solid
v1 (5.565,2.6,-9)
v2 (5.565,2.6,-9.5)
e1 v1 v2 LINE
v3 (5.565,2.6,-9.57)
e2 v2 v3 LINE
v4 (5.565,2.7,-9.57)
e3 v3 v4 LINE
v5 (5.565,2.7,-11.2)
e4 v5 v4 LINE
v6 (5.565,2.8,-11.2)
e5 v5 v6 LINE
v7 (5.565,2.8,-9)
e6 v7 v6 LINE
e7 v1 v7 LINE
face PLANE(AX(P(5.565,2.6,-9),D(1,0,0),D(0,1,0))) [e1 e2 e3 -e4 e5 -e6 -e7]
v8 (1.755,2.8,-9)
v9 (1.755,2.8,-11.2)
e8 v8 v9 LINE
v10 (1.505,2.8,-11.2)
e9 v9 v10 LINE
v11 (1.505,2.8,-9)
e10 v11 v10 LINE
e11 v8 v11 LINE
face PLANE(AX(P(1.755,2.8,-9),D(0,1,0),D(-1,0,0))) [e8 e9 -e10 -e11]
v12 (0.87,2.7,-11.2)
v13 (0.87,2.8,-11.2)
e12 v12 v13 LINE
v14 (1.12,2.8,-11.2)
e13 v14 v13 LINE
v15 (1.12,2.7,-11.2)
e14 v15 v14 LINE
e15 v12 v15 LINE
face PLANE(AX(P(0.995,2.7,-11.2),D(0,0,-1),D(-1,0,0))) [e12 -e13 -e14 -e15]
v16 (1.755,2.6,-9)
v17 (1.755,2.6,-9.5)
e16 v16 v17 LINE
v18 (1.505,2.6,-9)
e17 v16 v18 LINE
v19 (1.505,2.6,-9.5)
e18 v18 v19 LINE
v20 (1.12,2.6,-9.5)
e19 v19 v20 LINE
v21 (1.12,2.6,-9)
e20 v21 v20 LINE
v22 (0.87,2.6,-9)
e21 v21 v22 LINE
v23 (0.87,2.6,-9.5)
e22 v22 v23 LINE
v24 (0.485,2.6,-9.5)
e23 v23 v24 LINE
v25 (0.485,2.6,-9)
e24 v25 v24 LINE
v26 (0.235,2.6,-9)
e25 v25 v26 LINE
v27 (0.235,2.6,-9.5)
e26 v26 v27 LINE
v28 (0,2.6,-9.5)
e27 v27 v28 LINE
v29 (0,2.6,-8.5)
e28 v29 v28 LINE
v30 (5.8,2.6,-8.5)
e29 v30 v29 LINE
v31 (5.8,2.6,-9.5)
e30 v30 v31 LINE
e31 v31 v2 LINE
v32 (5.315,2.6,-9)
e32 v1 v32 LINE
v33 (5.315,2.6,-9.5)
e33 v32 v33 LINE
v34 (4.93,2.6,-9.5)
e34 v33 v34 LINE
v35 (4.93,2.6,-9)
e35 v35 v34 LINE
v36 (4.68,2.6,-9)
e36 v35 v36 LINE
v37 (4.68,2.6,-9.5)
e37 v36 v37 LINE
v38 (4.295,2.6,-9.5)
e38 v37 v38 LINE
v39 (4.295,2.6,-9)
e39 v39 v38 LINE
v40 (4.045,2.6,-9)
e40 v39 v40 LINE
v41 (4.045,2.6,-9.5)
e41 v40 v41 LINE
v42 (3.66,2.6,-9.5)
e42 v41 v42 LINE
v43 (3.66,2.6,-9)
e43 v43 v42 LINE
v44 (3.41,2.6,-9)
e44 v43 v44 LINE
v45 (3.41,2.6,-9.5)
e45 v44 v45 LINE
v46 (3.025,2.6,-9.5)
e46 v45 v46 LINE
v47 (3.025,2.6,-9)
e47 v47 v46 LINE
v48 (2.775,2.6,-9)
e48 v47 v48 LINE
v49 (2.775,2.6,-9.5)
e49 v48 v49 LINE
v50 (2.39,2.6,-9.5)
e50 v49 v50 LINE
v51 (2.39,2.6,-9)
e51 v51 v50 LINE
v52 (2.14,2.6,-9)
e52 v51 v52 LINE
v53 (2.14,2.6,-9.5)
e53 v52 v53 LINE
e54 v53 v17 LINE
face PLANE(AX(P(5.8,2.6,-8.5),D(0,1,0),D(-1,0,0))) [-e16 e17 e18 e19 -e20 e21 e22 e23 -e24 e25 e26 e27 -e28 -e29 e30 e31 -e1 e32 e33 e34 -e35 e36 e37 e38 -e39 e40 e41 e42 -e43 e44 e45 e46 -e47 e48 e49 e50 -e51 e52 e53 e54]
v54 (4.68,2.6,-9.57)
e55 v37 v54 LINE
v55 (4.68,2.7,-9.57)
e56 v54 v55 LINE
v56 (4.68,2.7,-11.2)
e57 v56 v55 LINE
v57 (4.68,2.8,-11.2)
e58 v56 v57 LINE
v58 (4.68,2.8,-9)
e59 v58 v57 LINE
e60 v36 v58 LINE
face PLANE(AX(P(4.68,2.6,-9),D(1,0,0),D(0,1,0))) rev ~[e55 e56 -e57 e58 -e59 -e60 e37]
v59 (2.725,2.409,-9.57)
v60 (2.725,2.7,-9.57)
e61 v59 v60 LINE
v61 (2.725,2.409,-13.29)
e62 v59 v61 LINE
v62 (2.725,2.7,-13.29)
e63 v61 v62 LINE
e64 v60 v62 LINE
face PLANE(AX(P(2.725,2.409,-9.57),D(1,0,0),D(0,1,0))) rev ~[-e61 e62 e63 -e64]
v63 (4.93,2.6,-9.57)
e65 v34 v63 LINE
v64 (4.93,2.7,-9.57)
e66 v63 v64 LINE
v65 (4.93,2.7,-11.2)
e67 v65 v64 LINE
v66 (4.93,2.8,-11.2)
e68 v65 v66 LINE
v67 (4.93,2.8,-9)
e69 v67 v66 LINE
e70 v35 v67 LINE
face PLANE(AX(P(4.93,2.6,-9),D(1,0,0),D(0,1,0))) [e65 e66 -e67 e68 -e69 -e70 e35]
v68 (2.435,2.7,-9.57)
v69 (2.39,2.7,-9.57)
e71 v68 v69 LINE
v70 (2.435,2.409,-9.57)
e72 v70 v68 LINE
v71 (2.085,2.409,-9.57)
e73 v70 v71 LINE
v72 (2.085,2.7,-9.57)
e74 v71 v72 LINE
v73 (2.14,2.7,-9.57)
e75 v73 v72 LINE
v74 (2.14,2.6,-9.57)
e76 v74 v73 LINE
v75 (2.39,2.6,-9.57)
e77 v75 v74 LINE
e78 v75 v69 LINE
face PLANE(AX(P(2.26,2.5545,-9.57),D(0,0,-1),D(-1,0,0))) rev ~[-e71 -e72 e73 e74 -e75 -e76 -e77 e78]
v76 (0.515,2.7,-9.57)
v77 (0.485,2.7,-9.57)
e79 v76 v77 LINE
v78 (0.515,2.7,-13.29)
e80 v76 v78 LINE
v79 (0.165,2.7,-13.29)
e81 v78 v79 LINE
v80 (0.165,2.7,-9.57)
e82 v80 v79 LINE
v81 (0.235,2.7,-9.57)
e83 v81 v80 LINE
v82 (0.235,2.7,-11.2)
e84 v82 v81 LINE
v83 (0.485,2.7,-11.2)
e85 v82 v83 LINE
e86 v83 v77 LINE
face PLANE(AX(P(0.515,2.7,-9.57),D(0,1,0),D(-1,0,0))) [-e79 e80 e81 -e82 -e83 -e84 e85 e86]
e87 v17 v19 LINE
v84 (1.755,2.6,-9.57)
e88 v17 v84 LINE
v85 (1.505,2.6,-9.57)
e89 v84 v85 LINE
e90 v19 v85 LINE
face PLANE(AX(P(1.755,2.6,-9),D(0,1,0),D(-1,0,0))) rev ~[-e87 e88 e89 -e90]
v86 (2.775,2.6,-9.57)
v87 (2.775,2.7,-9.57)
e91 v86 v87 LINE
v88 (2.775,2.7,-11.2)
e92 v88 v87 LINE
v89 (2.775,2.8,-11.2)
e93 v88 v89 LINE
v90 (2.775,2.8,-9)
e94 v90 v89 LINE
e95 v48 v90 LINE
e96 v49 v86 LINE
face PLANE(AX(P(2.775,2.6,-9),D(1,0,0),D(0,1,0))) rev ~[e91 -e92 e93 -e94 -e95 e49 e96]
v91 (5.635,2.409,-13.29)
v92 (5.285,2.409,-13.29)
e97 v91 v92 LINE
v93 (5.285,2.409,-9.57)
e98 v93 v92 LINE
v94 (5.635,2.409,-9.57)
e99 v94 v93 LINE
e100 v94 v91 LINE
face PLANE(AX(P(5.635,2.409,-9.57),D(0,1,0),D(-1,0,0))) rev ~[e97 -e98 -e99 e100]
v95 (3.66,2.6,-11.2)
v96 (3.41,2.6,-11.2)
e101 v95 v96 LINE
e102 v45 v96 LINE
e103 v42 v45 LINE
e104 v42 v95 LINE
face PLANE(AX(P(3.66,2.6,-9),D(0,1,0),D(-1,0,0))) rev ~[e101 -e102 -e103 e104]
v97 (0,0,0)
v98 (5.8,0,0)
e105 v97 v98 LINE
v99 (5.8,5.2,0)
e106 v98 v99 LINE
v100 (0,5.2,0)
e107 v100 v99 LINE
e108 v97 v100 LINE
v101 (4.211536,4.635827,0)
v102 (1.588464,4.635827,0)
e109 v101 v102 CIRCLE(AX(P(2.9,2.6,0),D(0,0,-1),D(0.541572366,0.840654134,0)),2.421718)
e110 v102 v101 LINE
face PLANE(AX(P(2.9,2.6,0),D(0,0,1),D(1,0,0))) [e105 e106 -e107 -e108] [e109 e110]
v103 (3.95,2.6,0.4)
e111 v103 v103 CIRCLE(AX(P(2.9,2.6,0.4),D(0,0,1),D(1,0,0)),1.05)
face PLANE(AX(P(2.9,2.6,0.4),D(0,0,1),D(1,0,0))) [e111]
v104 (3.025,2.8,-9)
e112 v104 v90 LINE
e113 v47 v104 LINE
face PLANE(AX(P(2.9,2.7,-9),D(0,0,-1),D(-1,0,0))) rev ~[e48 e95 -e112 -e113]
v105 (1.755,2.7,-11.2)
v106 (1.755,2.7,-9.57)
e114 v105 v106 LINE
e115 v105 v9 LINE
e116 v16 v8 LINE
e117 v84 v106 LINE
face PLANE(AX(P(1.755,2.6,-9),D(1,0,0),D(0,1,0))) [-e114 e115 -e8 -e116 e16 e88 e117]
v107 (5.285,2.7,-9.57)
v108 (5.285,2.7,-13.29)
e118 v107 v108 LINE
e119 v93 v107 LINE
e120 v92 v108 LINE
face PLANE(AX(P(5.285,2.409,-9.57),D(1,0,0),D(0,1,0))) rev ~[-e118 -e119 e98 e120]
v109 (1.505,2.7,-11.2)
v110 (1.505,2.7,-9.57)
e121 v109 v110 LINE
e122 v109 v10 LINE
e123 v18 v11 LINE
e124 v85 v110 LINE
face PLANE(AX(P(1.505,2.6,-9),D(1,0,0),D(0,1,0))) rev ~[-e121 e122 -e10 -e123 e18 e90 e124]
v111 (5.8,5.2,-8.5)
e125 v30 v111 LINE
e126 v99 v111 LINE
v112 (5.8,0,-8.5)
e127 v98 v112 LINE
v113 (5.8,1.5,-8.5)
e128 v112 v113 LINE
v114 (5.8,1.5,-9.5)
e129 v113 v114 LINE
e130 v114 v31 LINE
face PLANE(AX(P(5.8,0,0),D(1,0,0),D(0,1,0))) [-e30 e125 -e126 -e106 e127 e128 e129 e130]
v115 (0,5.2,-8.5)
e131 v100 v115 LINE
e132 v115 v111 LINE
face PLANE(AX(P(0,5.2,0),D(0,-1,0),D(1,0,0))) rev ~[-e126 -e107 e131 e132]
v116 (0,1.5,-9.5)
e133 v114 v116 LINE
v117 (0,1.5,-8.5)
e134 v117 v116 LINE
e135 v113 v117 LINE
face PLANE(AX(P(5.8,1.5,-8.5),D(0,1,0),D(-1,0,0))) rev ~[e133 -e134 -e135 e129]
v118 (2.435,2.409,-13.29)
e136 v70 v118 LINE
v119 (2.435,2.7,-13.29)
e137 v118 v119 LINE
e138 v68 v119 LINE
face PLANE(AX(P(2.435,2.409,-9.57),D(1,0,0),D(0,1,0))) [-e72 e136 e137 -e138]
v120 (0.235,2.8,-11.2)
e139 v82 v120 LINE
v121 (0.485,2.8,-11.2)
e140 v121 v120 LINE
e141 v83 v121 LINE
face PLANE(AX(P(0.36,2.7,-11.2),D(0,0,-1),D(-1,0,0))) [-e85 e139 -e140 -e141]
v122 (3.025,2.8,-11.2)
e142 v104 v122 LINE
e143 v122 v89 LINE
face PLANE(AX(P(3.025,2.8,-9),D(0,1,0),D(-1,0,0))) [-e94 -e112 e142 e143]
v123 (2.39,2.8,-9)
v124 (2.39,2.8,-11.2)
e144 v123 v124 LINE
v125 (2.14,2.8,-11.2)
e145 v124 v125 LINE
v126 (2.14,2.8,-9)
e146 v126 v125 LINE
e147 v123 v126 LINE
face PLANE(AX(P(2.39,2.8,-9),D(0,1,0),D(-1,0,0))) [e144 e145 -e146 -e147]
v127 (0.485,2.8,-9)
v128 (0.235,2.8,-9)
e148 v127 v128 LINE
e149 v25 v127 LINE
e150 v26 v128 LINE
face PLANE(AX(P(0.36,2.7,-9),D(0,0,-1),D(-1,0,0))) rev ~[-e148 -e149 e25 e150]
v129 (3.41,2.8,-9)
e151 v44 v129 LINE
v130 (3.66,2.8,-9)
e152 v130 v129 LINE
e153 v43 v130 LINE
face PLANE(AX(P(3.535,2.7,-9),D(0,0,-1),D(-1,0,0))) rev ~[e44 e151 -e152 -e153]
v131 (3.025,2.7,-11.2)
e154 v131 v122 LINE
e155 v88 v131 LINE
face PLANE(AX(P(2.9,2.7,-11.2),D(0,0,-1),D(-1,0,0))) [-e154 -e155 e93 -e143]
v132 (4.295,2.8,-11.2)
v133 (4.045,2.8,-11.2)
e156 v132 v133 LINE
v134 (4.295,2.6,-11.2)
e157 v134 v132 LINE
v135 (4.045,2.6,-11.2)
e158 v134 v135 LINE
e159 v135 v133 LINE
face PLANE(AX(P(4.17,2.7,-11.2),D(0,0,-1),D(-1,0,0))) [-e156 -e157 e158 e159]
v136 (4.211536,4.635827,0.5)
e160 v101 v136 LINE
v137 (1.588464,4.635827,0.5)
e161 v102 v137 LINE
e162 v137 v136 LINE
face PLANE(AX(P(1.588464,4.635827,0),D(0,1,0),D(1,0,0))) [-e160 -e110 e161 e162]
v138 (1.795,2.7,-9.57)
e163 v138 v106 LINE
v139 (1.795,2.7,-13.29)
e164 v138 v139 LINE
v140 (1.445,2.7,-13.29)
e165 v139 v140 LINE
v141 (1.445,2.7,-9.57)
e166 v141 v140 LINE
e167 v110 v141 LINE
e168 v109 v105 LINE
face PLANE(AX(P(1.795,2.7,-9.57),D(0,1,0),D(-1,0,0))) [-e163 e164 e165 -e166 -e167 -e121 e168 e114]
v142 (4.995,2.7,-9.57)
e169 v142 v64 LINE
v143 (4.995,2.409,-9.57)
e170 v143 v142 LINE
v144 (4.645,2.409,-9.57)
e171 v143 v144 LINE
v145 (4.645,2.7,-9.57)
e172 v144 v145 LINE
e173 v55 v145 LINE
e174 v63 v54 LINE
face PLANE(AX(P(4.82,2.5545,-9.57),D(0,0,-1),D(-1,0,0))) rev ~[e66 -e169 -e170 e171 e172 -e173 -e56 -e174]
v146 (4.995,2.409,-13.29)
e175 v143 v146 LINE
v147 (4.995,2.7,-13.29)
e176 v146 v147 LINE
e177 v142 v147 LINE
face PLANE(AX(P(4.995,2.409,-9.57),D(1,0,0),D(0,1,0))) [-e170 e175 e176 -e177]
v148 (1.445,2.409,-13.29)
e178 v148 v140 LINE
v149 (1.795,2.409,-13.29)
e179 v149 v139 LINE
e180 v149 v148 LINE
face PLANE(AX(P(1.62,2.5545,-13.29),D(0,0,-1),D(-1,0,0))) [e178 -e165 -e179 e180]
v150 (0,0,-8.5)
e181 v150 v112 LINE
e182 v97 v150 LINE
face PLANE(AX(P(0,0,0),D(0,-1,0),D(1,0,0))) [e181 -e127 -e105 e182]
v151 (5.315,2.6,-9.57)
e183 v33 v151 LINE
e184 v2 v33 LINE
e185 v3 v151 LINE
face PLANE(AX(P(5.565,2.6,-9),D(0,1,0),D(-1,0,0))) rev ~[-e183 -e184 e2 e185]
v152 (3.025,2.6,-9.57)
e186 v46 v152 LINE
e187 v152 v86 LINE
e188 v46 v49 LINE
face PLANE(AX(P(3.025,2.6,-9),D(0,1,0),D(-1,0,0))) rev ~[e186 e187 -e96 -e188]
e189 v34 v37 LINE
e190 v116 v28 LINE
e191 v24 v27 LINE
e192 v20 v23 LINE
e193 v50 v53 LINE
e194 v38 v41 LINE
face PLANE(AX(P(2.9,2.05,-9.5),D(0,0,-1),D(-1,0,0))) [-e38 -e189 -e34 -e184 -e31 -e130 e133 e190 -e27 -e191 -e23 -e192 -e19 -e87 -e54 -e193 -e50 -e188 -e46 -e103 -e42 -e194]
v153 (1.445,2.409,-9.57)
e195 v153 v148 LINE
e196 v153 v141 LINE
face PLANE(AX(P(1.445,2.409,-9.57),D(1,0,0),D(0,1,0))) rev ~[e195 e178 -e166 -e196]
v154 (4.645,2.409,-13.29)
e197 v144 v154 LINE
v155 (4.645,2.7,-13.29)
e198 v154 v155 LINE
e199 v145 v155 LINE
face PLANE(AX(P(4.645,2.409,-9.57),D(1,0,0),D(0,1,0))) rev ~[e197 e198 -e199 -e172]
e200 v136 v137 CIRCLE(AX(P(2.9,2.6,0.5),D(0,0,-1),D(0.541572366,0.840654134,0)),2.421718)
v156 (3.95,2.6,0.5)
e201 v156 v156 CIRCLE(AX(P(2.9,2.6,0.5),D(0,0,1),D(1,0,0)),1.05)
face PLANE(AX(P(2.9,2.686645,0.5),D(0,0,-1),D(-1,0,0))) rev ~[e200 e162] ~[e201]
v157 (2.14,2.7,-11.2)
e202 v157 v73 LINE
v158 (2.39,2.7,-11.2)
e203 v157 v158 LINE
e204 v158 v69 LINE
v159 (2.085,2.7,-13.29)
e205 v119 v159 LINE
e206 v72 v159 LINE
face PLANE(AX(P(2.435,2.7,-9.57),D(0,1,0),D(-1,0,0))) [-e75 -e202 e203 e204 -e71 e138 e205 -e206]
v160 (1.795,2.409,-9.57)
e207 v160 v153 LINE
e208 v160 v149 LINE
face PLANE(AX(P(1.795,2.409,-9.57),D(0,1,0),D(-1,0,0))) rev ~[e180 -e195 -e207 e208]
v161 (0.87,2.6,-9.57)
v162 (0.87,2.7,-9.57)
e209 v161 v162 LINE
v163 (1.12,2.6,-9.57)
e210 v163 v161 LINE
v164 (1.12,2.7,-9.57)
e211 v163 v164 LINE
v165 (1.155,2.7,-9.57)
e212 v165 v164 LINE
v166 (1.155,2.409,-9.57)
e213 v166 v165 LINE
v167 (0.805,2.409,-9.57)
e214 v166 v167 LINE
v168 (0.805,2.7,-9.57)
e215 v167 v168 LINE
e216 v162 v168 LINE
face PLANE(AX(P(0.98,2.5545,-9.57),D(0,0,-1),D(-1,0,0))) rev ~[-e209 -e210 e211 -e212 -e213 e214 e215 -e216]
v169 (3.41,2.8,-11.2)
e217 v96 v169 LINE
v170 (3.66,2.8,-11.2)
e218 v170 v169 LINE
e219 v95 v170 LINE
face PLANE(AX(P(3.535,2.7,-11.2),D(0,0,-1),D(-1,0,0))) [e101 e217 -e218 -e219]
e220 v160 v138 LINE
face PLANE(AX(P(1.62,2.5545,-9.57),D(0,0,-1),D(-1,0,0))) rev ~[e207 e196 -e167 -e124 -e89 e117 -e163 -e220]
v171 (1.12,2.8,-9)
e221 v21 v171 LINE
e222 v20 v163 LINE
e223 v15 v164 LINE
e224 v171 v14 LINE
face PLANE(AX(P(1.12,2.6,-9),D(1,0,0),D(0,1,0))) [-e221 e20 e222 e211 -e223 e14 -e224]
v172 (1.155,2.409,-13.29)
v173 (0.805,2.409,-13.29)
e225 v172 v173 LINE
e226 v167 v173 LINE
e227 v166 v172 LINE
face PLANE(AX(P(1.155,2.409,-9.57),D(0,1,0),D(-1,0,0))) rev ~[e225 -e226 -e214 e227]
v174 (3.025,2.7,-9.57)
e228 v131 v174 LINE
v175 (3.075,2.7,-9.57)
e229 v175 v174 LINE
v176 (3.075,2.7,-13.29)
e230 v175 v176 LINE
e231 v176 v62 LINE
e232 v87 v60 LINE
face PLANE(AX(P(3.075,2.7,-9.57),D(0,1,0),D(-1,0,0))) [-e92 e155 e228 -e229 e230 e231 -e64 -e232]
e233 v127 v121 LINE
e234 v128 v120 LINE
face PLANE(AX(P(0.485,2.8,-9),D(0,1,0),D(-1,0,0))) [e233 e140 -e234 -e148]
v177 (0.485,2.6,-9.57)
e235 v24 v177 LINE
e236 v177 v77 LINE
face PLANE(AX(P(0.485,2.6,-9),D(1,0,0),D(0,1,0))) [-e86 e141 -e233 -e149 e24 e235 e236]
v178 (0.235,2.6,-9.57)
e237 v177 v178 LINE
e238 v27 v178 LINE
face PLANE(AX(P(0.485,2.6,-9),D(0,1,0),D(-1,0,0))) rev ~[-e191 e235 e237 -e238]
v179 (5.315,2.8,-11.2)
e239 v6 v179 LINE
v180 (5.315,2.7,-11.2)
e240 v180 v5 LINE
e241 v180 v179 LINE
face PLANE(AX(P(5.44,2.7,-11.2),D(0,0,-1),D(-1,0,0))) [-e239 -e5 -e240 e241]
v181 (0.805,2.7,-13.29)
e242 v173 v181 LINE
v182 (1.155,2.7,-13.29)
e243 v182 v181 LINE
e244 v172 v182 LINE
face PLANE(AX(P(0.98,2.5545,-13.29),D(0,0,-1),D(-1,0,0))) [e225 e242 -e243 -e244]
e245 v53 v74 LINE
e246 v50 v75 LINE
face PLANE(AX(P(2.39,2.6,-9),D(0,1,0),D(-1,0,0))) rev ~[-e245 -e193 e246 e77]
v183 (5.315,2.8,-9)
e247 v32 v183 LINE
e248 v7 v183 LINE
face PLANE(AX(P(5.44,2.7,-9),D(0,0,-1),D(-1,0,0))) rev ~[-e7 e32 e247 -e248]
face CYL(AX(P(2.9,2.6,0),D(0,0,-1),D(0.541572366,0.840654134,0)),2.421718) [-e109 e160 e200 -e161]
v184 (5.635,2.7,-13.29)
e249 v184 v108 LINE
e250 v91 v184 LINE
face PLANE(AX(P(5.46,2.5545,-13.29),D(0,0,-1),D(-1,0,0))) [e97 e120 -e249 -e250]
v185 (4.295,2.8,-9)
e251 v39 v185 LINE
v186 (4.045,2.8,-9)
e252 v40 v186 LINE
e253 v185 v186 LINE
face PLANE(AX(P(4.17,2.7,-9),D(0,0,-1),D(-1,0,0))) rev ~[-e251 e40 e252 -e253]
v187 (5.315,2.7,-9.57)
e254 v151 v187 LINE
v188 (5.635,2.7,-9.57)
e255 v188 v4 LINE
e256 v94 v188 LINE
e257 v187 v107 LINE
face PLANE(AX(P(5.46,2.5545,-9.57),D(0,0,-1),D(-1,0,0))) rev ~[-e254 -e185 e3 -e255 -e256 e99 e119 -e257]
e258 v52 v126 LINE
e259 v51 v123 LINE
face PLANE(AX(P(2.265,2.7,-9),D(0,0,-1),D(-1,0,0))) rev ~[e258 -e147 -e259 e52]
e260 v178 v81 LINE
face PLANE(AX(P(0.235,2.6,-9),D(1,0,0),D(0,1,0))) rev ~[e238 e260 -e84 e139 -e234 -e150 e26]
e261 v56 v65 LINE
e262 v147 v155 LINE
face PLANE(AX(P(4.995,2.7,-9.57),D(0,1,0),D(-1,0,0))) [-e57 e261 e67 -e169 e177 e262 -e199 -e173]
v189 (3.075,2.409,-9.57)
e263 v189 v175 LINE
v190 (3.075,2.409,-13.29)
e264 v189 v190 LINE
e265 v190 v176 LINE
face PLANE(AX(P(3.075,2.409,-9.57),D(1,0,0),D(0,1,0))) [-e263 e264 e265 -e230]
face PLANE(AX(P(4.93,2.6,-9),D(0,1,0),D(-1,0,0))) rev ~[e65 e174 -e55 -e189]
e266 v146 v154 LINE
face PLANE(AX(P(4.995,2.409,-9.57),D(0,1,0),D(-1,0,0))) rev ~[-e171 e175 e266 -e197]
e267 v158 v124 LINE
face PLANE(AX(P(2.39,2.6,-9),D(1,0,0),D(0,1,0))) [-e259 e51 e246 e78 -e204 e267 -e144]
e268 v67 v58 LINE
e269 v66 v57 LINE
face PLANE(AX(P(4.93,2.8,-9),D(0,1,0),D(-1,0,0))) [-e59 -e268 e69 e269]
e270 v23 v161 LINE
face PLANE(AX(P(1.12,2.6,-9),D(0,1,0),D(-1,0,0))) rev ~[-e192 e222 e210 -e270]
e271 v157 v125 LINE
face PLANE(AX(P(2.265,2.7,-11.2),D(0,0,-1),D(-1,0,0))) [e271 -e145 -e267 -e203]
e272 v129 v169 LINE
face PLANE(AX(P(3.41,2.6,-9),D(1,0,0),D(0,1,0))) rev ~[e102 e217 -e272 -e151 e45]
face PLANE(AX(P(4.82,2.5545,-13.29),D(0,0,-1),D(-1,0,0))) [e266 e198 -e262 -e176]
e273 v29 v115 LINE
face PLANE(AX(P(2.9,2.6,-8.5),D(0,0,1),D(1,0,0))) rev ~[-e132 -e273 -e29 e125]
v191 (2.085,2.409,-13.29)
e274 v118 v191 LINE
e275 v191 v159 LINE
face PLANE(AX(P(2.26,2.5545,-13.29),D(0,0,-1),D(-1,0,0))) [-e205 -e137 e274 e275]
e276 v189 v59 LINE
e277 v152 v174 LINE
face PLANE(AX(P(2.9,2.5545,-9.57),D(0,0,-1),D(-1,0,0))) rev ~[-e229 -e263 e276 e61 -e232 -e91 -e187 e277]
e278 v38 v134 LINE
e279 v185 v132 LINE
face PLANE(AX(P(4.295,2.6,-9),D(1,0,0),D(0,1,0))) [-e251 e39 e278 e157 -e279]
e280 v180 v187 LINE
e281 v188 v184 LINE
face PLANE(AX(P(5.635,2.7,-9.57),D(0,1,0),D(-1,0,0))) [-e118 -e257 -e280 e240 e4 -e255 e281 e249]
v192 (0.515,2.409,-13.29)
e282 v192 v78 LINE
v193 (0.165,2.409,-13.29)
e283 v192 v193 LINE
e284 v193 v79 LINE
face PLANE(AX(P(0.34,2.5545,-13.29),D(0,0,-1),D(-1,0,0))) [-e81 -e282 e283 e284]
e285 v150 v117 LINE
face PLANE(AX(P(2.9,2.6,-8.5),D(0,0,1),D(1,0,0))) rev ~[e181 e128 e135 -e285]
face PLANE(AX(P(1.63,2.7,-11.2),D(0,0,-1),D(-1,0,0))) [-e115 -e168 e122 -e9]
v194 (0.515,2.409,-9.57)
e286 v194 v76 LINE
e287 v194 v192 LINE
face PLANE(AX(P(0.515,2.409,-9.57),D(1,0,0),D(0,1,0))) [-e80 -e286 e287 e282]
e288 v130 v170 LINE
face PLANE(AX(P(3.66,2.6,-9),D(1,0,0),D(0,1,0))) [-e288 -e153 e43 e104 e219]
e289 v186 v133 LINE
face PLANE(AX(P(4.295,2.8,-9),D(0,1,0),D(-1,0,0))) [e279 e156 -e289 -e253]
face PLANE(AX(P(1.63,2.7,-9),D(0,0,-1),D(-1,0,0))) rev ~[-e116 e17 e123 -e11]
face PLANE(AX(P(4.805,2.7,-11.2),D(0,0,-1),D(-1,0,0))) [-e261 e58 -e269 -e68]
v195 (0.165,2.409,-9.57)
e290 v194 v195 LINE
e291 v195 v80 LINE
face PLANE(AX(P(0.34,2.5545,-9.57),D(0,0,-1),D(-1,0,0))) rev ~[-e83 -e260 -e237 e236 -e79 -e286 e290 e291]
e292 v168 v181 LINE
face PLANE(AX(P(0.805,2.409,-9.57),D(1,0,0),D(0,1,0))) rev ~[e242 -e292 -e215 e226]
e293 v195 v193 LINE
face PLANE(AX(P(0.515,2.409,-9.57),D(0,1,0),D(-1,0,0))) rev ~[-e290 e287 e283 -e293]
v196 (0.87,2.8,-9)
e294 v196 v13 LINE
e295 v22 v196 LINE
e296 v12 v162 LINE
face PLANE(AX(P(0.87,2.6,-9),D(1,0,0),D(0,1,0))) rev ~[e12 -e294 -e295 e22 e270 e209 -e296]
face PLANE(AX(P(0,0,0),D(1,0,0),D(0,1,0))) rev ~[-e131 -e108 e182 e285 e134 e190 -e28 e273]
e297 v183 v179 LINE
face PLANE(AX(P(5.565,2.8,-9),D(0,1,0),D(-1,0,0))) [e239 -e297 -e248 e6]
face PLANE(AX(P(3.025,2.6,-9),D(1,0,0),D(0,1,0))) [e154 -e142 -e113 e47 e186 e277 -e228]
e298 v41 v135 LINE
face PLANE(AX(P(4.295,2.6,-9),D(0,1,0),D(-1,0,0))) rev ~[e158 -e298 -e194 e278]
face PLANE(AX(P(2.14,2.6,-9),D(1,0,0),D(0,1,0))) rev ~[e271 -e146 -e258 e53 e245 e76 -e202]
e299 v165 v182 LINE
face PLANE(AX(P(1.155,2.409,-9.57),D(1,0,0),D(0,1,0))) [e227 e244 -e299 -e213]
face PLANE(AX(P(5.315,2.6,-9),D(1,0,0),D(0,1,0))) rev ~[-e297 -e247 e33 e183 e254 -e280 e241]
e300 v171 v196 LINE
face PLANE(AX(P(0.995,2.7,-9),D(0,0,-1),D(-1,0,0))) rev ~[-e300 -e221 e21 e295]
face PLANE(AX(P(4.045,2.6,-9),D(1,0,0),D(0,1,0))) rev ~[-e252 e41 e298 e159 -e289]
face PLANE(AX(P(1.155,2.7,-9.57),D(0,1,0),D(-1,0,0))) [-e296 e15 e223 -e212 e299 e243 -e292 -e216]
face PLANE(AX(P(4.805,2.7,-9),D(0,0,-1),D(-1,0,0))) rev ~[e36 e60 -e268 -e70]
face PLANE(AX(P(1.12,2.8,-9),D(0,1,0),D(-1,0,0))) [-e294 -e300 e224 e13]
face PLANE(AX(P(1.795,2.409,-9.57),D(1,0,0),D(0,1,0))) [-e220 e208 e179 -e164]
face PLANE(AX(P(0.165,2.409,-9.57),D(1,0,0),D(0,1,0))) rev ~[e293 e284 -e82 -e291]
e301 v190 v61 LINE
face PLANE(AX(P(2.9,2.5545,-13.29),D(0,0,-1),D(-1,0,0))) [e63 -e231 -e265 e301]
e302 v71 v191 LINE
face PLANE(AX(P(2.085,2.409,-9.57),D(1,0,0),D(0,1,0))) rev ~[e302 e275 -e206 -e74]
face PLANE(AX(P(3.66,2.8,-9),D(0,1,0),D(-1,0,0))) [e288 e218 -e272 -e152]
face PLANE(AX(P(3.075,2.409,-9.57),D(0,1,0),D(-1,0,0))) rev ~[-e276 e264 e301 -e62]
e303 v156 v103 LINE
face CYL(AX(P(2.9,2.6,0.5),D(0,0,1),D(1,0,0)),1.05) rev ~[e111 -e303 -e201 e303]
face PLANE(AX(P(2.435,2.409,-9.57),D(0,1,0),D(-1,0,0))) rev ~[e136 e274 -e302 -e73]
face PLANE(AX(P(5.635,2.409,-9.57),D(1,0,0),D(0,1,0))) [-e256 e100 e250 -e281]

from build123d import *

# Parameters (mm, degrees)
SKETCH1_W            = 5.8
SKETCH1_H            = 5.2
BOSS_EXTRUDE1_DEPTH  = 8.5
BOSS_EXTRUDE2_DEPTH  = 0.5
SKETCH4_W            = 5.8
SKETCH4_H            = 1.1
BOSS_EXTRUDE3_DEPTH  = 1
BOSS_EXTRUDE6_START  = 0.5
SKETCH10_W           = 0.25
SKETCH10_H           = 0.2
BOSS_EXTRUDE6_DEPTH  = 2.2
BOSS_EXTRUDE7_START  = 0.07
SKETCH11_W           = 0.35
SKETCH11_H           = 0.291
BOSS_EXTRUDE7_DEPTH  = 3.72
LPATTERN3_COUNT      = 5
LPATTERN3_PITCH      = 0.635
LPATTERN3_COL_COUNT  = 5
LPATTERN3_COL_PITCH  = 0.635
LPATTERN4_COUNT      = 5
LPATTERN4_PITCH      = 0.64
LPATTERN4_COUNT_DIR2 = 5
LPATTERN4_PITCH_DIR2 = 0.64
SKETCH13_R           = 1.05
CUT_EXTRUDE1_DEPTH   = 0.1


with BuildPart() as part:
    # Sketch1 → Boss-Extrude1 (new body)
    with BuildSketch(Plane.XY):
        with Locations((2.9, 2.6)):
            Rectangle(SKETCH1_W, SKETCH1_H)
    extrude(amount=-BOSS_EXTRUDE1_DEPTH)

    # Sketch3 → Boss-Extrude2 (add)
    with BuildSketch(Plane.XY):
        with BuildLine():
            Line((1.588464453, 4.635827248), (4.211535547, 4.635827248))
            ThreePointArc((4.211535547, 4.635827248), (2.9, 0.178281999), (1.588464453, 4.635827248))
        make_face()
    extrude(amount=BOSS_EXTRUDE2_DEPTH)

    # Sketch4 → Boss-Extrude3 (add)
    with BuildSketch(Plane(origin=(0, 0, -8.5), x_dir=(-1, 0, 0), z_dir=(0, 0, -1))):
        with Locations((-2.9, 2.05)):
            Rectangle(SKETCH4_W, SKETCH4_H)
    extrude(amount=BOSS_EXTRUDE3_DEPTH)

    # Sketch10 → Boss-Extrude6 (add)
    with BuildSketch(Plane(origin=(0, 0, -8.5), x_dir=(-1, 0, 0), z_dir=(0, 0, -1)).offset(BOSS_EXTRUDE6_START)):
        with Locations((-2.9, 2.7)):
            Rectangle(SKETCH10_W, SKETCH10_H)
    boss_extrude6 = extrude(amount=BOSS_EXTRUDE6_DEPTH)

    # Sketch11 → Boss-Extrude7 (add)
    with BuildSketch(Plane(origin=(0, 0, -9.5), x_dir=(-1, 0, 0), z_dir=(0, 0, -1)).offset(BOSS_EXTRUDE7_START)):
        with Locations((-2.9, 2.5545)):
            Rectangle(SKETCH11_W, SKETCH11_H)
    boss_extrude7 = extrude(amount=BOSS_EXTRUDE7_DEPTH)

    # LPattern3: Boss-Extrude6 ×5
    with Locations(*[(-i * LPATTERN3_PITCH, 0, 0) for i in range(1, LPATTERN3_COUNT)]):
        add(boss_extrude6)

    # LPattern3 col: Boss-Extrude6 ×5
    with Locations(*[(i * LPATTERN3_COL_PITCH, 0, 0) for i in range(1, LPATTERN3_COL_COUNT)]):
        add(boss_extrude6)

    # LPattern4: Boss-Extrude7 5 × 5, 7 skipped
    with Locations(*[Vector(-1, 0, 0) * (i * LPATTERN4_PITCH) + Vector(1, 0, 0) * (j * LPATTERN4_PITCH_DIR2) for i in range(LPATTERN4_COUNT) for j in range(LPATTERN4_COUNT_DIR2) if (i, j) not in ((0, 0), (0, 1), (0, 2), (1, 2), (1, 3), (2, 3), (2, 4), (3, 4))]):
        add(boss_extrude7)

    # Sketch13 → Cut-Extrude1 (cut)
    with BuildSketch(Plane.XY.offset(0.5)):
        with Locations((2.9, 2.6)):
            Circle(SKETCH13_R)
    extrude(amount=-CUT_EXTRUDE1_DEPTH, mode=Mode.SUBTRACT)


solid = part.part
